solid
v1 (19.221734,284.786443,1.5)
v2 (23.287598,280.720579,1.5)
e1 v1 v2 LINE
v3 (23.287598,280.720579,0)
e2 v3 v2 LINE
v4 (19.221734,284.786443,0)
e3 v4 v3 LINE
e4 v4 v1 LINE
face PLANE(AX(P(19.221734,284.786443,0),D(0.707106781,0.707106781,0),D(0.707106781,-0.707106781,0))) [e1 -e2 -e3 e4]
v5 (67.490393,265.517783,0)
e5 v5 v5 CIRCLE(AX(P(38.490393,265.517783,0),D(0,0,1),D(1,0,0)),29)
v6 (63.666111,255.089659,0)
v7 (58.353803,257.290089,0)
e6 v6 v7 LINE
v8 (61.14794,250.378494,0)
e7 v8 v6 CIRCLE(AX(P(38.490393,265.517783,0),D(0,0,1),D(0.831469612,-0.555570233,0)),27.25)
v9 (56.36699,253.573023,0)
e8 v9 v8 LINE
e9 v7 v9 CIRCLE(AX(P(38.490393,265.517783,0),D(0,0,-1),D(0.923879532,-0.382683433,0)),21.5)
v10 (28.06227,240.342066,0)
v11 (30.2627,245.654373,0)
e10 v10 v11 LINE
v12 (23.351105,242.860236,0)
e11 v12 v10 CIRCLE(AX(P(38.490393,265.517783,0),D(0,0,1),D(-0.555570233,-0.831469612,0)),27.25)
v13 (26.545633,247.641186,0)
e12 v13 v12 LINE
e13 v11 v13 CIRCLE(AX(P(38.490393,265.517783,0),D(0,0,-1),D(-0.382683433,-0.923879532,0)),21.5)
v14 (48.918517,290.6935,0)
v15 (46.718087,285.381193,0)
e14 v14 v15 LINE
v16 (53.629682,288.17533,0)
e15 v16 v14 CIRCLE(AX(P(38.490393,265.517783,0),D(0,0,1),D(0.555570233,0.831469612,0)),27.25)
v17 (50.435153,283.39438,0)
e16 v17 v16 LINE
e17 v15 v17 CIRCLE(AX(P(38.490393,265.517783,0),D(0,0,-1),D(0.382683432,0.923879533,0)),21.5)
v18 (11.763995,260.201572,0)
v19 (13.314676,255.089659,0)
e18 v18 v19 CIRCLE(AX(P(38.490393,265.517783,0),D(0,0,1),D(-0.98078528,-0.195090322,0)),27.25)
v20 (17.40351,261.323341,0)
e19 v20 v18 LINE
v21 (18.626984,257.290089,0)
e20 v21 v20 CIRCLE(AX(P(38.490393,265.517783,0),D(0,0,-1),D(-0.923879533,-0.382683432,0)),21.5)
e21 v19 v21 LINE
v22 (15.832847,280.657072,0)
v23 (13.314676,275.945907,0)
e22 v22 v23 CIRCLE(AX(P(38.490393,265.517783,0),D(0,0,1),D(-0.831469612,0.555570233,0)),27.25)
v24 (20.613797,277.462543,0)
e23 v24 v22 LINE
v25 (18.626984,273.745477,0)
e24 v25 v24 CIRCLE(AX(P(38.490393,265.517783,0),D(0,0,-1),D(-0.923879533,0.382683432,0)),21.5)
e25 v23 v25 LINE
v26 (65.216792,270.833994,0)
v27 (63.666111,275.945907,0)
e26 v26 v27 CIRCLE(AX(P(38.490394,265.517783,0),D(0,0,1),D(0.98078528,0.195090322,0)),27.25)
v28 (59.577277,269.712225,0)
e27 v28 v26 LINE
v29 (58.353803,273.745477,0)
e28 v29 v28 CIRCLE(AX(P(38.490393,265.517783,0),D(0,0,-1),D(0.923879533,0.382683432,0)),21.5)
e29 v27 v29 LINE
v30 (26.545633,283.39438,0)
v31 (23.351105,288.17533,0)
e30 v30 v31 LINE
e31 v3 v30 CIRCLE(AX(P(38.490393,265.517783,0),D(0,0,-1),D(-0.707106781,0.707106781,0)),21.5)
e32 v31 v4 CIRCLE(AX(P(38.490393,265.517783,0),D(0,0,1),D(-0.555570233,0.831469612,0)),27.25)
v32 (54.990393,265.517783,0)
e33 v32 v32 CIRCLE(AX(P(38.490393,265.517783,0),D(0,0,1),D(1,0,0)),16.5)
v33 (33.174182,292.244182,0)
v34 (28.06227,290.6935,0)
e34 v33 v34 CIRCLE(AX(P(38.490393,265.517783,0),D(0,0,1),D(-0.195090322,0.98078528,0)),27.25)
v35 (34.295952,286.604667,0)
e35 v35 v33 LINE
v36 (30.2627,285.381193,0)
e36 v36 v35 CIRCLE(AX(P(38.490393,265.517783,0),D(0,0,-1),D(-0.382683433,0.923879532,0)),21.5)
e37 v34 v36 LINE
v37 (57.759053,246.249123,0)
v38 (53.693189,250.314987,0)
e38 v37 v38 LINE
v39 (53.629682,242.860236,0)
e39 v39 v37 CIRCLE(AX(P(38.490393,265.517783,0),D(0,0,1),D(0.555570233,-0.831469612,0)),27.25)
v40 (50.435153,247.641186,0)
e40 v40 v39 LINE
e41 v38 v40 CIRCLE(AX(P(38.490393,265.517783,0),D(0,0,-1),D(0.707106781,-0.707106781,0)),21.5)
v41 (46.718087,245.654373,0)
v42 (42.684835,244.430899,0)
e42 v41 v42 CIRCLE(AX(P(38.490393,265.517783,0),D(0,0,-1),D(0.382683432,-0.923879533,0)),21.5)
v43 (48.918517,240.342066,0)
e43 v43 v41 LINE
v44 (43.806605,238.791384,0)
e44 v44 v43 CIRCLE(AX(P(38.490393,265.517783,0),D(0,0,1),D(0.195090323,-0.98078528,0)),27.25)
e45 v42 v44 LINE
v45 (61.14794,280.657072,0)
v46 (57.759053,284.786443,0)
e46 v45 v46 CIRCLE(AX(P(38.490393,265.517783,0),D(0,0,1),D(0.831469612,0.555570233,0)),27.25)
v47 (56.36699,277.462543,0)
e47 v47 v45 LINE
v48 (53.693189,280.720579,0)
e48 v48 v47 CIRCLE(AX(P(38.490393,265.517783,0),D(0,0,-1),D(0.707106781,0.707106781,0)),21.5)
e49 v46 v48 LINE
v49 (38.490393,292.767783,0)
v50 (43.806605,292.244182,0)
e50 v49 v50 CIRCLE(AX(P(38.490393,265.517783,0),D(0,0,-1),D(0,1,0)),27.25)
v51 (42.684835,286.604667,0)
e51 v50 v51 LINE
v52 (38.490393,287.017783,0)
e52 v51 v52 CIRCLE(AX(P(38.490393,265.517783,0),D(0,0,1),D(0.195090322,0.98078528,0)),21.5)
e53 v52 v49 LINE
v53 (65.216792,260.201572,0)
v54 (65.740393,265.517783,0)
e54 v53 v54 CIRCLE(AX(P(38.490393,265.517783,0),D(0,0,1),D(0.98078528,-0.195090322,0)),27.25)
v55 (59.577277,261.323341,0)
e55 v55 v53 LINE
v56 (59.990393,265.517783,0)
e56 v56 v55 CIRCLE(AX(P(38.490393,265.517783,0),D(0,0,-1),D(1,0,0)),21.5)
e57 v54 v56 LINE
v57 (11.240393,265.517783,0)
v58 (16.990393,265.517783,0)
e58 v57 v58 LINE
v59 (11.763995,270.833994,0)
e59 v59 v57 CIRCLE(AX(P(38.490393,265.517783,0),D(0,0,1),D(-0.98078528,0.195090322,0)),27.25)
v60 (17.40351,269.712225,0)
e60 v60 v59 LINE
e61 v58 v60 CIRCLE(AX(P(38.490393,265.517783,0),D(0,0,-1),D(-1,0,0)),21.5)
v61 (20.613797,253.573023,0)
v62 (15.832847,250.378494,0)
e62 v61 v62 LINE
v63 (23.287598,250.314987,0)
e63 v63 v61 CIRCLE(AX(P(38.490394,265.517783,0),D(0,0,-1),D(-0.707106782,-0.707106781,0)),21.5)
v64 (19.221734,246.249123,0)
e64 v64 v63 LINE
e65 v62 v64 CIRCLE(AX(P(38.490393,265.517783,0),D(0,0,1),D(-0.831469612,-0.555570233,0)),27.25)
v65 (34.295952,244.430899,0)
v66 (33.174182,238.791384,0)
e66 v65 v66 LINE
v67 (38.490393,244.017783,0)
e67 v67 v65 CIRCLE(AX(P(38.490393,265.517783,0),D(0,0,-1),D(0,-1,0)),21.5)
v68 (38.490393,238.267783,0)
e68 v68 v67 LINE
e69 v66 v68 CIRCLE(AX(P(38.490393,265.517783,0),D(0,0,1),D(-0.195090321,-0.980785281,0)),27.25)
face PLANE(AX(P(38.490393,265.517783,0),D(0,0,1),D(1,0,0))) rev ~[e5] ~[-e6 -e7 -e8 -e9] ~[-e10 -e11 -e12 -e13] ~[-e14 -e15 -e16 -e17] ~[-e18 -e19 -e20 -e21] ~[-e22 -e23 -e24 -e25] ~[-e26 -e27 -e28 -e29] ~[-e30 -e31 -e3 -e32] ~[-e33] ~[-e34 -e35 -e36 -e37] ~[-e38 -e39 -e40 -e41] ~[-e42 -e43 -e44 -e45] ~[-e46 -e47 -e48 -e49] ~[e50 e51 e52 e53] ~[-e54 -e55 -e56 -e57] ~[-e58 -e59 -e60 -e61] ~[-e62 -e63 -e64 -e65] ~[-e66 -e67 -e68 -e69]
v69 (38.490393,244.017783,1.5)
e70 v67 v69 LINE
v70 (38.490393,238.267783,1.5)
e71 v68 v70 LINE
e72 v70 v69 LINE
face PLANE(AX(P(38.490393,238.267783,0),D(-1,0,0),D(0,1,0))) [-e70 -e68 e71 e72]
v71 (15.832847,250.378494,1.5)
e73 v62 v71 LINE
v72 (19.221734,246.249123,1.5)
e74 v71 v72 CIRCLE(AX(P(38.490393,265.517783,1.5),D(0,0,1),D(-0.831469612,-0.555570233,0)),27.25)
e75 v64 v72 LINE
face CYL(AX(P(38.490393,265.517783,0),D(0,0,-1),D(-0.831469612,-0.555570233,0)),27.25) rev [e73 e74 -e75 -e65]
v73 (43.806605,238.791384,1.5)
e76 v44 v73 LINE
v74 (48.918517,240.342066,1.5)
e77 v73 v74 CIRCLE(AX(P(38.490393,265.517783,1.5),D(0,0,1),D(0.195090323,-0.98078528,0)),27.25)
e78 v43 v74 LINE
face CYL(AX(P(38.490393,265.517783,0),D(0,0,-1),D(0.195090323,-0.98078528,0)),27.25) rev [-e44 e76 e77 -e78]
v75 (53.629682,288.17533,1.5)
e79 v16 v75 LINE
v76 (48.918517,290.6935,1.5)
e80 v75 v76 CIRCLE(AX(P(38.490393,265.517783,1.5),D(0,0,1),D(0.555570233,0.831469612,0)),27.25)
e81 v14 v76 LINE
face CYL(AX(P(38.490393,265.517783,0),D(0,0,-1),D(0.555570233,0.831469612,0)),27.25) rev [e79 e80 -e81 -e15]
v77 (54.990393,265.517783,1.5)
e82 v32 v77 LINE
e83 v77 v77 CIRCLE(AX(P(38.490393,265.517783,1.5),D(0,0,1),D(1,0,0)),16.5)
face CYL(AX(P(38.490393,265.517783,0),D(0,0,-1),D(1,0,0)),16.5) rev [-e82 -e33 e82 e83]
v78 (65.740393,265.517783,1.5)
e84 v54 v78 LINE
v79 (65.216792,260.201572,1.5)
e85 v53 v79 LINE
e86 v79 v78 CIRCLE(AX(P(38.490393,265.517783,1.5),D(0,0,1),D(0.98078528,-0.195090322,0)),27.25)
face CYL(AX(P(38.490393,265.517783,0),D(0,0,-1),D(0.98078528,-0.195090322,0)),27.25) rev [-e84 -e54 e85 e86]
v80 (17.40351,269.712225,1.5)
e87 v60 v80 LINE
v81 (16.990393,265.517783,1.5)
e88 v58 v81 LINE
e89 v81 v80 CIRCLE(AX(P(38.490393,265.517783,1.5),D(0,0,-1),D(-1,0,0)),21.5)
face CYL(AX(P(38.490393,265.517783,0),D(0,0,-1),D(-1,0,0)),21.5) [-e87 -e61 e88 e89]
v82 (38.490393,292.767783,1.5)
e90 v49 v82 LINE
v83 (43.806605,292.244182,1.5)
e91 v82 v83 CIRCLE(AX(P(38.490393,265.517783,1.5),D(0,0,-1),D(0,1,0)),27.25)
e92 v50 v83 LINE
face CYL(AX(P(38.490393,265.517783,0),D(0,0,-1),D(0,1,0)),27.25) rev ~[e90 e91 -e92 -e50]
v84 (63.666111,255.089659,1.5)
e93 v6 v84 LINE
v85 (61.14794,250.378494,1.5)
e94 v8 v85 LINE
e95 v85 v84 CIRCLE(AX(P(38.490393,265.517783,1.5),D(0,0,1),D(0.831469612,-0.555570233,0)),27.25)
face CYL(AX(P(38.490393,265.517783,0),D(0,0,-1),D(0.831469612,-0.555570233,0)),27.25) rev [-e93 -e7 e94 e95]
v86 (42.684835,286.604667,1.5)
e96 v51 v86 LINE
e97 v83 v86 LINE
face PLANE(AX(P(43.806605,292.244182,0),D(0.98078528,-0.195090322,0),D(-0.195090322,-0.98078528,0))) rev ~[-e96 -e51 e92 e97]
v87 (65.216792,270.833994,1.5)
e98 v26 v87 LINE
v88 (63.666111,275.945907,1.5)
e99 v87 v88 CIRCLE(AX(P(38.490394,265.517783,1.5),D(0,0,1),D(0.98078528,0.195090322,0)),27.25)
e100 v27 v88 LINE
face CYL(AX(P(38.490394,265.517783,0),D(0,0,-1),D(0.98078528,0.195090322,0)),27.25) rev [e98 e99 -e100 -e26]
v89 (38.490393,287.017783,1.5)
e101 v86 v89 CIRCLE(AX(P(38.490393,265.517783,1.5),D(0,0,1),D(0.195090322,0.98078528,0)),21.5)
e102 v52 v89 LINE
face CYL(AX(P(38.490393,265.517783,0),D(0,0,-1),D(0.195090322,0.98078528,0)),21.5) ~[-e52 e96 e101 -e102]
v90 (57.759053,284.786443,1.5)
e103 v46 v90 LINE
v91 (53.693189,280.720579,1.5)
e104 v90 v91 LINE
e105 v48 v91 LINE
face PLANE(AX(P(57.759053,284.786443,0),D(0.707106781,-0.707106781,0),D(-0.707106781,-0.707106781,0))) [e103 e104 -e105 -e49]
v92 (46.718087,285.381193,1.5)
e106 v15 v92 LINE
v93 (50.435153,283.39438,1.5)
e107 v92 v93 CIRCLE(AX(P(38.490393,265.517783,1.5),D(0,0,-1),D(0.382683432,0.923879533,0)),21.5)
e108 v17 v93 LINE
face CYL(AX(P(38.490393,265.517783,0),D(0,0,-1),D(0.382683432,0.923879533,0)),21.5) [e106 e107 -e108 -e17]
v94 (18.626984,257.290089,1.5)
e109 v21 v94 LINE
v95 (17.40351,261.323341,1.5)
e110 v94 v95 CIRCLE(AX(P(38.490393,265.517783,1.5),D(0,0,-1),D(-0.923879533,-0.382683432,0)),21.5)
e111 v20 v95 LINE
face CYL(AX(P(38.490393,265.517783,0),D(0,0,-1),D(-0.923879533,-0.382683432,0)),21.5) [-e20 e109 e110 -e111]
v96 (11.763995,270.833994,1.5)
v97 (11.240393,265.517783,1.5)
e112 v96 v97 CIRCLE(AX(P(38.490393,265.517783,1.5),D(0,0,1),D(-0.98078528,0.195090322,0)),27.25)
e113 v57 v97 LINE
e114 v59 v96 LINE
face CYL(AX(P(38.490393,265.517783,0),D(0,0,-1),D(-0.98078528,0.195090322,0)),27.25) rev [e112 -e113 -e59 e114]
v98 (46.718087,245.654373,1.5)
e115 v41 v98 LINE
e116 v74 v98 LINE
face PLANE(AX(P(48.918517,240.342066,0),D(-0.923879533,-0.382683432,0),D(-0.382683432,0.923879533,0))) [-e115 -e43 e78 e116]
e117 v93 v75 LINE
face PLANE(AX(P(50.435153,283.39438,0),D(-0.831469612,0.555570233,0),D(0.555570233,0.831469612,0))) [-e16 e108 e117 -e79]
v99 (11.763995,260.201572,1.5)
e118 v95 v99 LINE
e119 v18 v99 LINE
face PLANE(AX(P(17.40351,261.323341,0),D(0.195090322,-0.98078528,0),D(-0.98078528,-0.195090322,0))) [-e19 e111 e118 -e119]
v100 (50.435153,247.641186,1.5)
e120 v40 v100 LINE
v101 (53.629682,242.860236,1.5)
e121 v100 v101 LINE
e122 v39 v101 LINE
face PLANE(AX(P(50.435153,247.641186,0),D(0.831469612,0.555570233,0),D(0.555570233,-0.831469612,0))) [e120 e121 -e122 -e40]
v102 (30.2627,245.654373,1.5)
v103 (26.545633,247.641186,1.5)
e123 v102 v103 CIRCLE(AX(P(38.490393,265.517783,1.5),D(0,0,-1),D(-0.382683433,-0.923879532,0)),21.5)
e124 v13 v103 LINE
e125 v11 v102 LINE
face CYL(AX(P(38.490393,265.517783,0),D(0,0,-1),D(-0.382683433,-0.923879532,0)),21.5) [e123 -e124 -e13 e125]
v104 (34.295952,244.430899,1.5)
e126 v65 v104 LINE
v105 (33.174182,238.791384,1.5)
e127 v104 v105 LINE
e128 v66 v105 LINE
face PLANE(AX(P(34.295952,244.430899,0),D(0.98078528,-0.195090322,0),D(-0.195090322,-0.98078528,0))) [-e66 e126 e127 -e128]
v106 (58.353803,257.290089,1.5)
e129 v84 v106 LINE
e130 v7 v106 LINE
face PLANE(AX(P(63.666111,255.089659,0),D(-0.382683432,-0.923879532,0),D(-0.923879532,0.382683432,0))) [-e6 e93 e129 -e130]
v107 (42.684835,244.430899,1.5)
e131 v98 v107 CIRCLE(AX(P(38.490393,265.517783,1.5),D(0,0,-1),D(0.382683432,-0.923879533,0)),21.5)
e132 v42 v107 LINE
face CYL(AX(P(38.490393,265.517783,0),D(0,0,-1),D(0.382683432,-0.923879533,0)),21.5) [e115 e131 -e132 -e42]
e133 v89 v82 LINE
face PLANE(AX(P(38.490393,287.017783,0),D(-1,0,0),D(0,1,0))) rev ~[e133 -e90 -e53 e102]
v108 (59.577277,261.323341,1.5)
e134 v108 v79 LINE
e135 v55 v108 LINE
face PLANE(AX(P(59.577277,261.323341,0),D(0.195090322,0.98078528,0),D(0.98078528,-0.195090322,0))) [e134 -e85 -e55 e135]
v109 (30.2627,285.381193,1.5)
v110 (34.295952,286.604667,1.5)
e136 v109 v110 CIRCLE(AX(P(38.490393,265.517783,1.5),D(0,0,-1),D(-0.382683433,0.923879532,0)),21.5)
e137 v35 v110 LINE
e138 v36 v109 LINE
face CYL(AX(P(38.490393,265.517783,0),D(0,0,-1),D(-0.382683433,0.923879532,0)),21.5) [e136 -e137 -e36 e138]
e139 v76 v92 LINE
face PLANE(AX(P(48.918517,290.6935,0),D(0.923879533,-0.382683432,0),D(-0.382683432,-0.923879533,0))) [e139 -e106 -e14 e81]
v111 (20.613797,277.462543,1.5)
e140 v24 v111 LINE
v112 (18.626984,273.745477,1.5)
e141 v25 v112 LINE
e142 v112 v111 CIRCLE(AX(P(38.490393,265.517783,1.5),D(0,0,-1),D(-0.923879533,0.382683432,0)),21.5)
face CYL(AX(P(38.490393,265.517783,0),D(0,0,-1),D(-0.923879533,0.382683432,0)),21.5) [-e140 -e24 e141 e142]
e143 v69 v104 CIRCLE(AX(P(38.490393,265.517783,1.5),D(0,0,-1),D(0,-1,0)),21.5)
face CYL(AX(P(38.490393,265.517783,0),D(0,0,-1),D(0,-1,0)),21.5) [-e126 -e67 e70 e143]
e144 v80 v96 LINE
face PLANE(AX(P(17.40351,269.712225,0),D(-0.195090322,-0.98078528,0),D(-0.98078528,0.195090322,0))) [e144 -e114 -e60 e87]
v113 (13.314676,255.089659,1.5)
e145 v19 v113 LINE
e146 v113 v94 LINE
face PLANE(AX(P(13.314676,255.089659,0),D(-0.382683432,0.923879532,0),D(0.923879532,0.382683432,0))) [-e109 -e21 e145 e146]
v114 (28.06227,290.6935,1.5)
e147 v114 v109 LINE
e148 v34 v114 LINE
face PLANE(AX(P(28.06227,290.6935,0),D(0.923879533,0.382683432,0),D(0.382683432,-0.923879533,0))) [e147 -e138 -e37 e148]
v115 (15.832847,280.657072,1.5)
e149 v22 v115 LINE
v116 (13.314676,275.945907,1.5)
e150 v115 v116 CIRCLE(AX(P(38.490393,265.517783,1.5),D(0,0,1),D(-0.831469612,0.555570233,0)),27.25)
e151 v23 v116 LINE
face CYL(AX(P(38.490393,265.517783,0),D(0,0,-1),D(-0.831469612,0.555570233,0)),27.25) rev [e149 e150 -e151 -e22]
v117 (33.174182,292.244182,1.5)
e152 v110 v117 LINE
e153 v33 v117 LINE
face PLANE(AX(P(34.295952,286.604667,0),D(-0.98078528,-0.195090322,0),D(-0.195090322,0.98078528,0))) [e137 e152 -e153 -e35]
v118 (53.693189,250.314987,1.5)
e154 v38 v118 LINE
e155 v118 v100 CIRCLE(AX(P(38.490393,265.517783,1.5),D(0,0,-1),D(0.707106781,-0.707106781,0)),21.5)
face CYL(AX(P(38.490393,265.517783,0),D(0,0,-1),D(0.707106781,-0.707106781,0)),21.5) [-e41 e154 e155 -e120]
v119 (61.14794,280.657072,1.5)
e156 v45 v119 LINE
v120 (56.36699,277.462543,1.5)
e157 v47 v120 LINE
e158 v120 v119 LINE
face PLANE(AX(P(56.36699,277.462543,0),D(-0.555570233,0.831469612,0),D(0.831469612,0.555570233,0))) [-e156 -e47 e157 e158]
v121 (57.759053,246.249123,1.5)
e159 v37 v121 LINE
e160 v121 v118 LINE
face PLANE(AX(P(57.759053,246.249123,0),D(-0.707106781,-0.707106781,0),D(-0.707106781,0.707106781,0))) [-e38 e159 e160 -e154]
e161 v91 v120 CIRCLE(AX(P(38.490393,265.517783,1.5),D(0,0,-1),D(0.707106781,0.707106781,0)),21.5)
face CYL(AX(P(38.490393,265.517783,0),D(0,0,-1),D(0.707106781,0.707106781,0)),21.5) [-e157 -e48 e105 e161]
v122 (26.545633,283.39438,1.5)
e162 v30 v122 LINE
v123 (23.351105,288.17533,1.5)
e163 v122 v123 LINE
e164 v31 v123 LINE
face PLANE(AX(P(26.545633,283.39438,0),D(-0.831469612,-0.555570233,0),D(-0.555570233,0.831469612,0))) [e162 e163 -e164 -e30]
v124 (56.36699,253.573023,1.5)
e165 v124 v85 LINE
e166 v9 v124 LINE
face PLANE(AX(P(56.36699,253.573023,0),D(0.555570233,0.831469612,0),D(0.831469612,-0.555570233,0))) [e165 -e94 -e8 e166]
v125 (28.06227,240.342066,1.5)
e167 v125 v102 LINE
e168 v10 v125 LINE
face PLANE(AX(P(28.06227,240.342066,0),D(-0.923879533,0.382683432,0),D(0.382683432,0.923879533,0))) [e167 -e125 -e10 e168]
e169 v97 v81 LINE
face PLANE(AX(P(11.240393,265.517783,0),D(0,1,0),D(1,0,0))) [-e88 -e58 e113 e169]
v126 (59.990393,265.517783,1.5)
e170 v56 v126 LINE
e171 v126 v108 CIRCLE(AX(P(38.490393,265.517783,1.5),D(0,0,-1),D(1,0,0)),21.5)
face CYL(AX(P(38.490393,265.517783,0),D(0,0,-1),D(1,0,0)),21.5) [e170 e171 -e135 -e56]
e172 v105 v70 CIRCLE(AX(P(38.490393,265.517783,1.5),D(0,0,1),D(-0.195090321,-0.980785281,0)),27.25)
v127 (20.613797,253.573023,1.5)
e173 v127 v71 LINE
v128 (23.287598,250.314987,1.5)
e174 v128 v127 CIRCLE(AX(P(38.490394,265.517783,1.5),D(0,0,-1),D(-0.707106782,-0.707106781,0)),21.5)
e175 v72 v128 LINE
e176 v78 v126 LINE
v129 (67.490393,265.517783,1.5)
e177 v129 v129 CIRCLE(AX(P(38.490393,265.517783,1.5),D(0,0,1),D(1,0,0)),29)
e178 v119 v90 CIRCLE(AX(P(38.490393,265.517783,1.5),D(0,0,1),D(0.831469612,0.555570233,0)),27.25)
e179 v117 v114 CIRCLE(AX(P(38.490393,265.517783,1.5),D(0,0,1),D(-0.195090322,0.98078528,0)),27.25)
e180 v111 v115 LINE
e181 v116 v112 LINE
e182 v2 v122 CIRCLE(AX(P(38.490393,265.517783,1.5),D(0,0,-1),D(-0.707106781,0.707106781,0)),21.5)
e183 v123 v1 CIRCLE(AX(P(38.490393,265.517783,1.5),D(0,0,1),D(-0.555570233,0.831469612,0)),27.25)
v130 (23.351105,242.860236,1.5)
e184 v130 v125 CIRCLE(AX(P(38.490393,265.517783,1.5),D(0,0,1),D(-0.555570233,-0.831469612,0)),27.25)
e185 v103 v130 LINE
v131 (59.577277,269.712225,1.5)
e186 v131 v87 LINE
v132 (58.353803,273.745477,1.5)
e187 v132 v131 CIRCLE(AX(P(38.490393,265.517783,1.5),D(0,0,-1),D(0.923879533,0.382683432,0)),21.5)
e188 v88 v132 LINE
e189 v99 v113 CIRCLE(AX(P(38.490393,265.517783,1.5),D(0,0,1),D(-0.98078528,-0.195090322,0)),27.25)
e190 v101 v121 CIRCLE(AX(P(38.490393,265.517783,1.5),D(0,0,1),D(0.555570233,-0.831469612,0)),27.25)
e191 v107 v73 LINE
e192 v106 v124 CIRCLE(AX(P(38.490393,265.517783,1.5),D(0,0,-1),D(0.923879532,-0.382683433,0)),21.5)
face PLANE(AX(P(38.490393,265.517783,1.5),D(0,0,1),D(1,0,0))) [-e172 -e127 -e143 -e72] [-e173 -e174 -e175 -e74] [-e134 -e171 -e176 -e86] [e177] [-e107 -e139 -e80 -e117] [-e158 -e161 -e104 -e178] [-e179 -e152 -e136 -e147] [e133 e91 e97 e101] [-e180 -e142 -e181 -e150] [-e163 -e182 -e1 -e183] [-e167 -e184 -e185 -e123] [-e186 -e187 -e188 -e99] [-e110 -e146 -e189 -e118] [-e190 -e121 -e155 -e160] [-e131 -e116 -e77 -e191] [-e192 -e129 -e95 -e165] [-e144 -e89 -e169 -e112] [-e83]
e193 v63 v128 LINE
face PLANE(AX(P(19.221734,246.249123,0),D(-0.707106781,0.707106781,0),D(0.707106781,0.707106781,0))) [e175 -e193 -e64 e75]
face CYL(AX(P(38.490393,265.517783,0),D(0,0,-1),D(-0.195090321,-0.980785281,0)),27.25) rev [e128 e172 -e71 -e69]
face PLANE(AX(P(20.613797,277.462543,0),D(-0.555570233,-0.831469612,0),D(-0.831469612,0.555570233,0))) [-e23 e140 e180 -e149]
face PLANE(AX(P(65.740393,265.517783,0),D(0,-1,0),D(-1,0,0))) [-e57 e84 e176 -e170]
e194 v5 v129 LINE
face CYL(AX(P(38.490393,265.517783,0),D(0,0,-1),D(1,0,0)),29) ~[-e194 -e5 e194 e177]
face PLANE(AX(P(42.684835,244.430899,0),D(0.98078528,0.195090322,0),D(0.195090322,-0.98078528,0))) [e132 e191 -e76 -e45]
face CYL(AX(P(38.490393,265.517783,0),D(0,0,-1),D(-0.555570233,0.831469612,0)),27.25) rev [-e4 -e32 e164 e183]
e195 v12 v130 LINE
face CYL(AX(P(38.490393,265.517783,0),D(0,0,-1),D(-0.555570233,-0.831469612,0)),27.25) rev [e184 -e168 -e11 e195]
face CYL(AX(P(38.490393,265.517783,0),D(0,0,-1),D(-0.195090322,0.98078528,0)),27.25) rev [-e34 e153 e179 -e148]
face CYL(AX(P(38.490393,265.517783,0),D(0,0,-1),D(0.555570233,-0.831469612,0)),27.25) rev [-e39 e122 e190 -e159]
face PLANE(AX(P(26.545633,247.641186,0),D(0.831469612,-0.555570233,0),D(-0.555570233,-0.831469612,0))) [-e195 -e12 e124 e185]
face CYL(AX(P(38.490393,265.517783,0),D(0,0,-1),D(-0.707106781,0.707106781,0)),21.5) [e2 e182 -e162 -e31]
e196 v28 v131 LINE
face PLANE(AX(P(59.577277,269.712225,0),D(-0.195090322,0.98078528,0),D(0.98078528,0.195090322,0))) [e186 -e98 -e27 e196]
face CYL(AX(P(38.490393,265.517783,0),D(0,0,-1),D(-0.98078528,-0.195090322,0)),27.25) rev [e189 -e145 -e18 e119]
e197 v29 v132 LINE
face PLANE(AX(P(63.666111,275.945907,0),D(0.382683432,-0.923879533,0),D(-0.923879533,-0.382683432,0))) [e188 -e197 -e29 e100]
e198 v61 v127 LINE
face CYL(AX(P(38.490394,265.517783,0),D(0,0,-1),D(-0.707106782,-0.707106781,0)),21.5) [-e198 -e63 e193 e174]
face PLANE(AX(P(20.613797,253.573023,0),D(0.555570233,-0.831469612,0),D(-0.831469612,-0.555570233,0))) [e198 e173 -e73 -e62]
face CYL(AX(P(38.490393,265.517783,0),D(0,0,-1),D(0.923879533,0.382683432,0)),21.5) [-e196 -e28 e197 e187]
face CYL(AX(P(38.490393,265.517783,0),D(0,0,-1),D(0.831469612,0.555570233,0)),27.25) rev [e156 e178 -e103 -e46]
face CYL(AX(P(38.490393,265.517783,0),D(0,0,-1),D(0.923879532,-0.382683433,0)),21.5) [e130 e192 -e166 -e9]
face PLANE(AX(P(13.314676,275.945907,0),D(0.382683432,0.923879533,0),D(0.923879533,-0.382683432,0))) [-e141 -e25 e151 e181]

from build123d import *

# Parameters (mm, degrees)
MODEL_R                 = 29
MODEL_R_2               = 16.5
SALIENTE_EXTRUIR1_DEPTH = 1.5


with BuildPart() as part:
    # Model → Saliente-Extruir1 (new body)
    with BuildSketch(Plane.XY):
        with Locations((38.490393449, 265.517783021)):
            Circle(MODEL_R)
        with Locations((38.490393449, 265.517783021)):
            Circle(MODEL_R_2, mode=Mode.SUBTRACT)
        with BuildLine():
            Line((38.490393449, 287.017783021), (38.490393449, 292.767783021))
            ThreePointArc((38.490393449, 292.767783021), (41.161360523, 292.636566823), (43.806604724, 292.244181912))
            Line((43.806604724, 292.244181912), (42.684835372, 286.60466655))
            ThreePointArc((42.684835372, 286.60466655), (40.597761966, 286.914254645), (38.490393449, 287.017783021))
        make_face(mode=Mode.SUBTRACT)
        with BuildLine():
            Line((34.295951526, 286.60466655), (33.174182174, 292.244181912))
            ThreePointArc((33.174182174, 292.244181912), (30.580135994, 291.59440717), (28.062269917, 290.693500282))
            Line((28.062269917, 290.693500282), (30.262699653, 285.38119297))
            ThreePointArc((30.262699653, 285.38119297), (32.249272888, 286.09200024), (34.295951526, 286.60466655))
        make_face(mode=Mode.SUBTRACT)
        with BuildLine():
            Line((26.545633439, 283.394379686), (23.351104599, 288.175329957))
            ThreePointArc((23.351104599, 288.175329957), (21.203176455, 286.582317876), (19.221733662, 284.786442809))
            Line((19.221733662, 284.786442809), (23.287597653, 280.720578817))
            ThreePointArc((23.287597653, 280.720578817), (24.850937839, 282.137507769), (26.545633439, 283.394379686))
        make_face(mode=Mode.SUBTRACT)
        with BuildLine():
            Line((20.613796784, 277.462543031), (15.832846514, 280.657071871))
            ThreePointArc((15.832846514, 280.657071871), (14.458038995, 278.3633441), (13.314676188, 275.945906553))
            Line((13.314676188, 275.945906553), (18.6269835, 273.745476817))
            ThreePointArc((18.6269835, 273.745476817), (19.529086265, 275.652812863), (20.613796784, 277.462543031))
        make_face(mode=Mode.SUBTRACT)
        with BuildLine():
            Line((17.40350992, 269.712224945), (11.763994558, 270.833994296))
            ThreePointArc((11.763994558, 270.833994296), (11.371609647, 268.188750095), (11.240393449, 265.517783021))
            Line((11.240393449, 265.517783021), (16.990393449, 265.517783021))
            ThreePointArc((16.990393449, 265.517783021), (17.093921825, 267.625151538), (17.40350992, 269.712224945))
        make_face(mode=Mode.SUBTRACT)
        with BuildLine():
            Line((17.40350992, 261.323341098), (11.763994558, 260.201571746))
            ThreePointArc((11.763994558, 260.201571746), (12.4137693, 257.607525566), (13.314676188, 255.089659489))
            Line((13.314676188, 255.089659489), (18.6269835, 257.290089226))
            ThreePointArc((18.6269835, 257.290089226), (17.916176231, 259.27666246), (17.40350992, 261.323341098))
        make_face(mode=Mode.SUBTRACT)
        with BuildLine():
            Line((20.613796784, 253.573023011), (15.832846514, 250.378494172))
            ThreePointArc((15.832846514, 250.378494172), (17.425858595, 248.230566028), (19.221733662, 246.249123234))
            Line((19.221733662, 246.249123234), (23.287597653, 250.314987226))
            ThreePointArc((23.287597653, 250.314987226), (21.870668702, 251.878327412), (20.613796784, 253.573023011))
        make_face(mode=Mode.SUBTRACT)
        with BuildLine():
            Line((26.545633439, 247.641186357), (23.351104599, 242.860236086))
            ThreePointArc((23.351104599, 242.860236086), (25.64483237, 241.485428568), (28.062269917, 240.34206576))
            Line((28.062269917, 240.34206576), (30.262699653, 245.654373072))
            ThreePointArc((30.262699653, 245.654373072), (28.355363607, 246.556475838), (26.545633439, 247.641186357))
        make_face(mode=Mode.SUBTRACT)
        with BuildLine():
            Line((34.295951526, 244.430899493), (33.174182174, 238.79138413))
            ThreePointArc((33.174182174, 238.79138413), (35.819426375, 238.39899922), (38.490393449, 238.267783021))
            Line((38.490393449, 238.267783021), (38.490393449, 244.017783021))
            ThreePointArc((38.490393449, 244.017783021), (36.383024932, 244.121311398), (34.295951526, 244.430899493))
        make_face(mode=Mode.SUBTRACT)
        with BuildLine():
            Line((42.684835372, 244.430899493), (43.806604724, 238.79138413))
            ThreePointArc((43.806604724, 238.79138413), (46.400650904, 239.441158873), (48.918516981, 240.34206576))
            Line((48.918516981, 240.34206576), (46.718087245, 245.654373072))
            ThreePointArc((46.718087245, 245.654373072), (44.73151401, 244.943565803), (42.684835372, 244.430899493))
        make_face(mode=Mode.SUBTRACT)
        with BuildLine():
            Line((50.435153459, 247.641186357), (53.629682299, 242.860236086))
            ThreePointArc((53.629682299, 242.860236086), (55.777610442, 244.453248167), (57.759053236, 246.249123234))
            Line((57.759053236, 246.249123234), (53.693189244, 250.314987226))
            ThreePointArc((53.693189244, 250.314987226), (52.129849058, 248.898058274), (50.435153459, 247.641186357))
        make_face(mode=Mode.SUBTRACT)
        with BuildLine():
            Line((56.366990113, 253.573023011), (61.147940384, 250.378494172))
            ThreePointArc((61.147940384, 250.378494172), (62.522747902, 252.672221943), (63.66611071, 255.089659489))
            Line((63.66611071, 255.089659489), (58.353803398, 257.290089226))
            ThreePointArc((58.353803398, 257.290089226), (57.451700632, 255.38275318), (56.366990113, 253.573023011))
        make_face(mode=Mode.SUBTRACT)
        with BuildLine():
            Line((59.577276978, 261.323341098), (65.21679234, 260.201571746))
            ThreePointArc((65.21679234, 260.201571746), (65.609177251, 262.846815947), (65.740393449, 265.517783021))
            Line((65.740393449, 265.517783021), (59.990393449, 265.517783021))
            ThreePointArc((59.990393449, 265.517783021), (59.886865072, 263.410414504), (59.577276978, 261.323341098))
        make_face(mode=Mode.SUBTRACT)
        with BuildLine():
            Line((59.577276978, 269.712224945), (65.21679234, 270.833994296))
            ThreePointArc((65.21679234, 270.833994296), (64.567017598, 273.428040477), (63.66611071, 275.945906553))
            Line((63.66611071, 275.945906553), (58.353803398, 273.745476817))
            ThreePointArc((58.353803398, 273.745476817), (59.064610667, 271.758903582), (59.577276978, 269.712224945))
        make_face(mode=Mode.SUBTRACT)
        with BuildLine():
            Line((56.366990113, 277.462543031), (61.147940384, 280.657071871))
            ThreePointArc((61.147940384, 280.657071871), (59.554928303, 282.805000015), (57.759053236, 284.786442809))
            Line((57.759053236, 284.786442809), (53.693189244, 280.720578817))
            ThreePointArc((53.693189244, 280.720578817), (55.110118196, 279.157238631), (56.366990113, 277.462543031))
        make_face(mode=Mode.SUBTRACT)
        with BuildLine():
            Line((50.435153459, 283.394379686), (53.629682299, 288.175329957))
            ThreePointArc((53.629682299, 288.175329957), (51.335954527, 289.550137475), (48.918516981, 290.693500282))
            Line((48.918516981, 290.693500282), (46.718087245, 285.38119297))
            ThreePointArc((46.718087245, 285.38119297), (48.625423291, 284.479090205), (50.435153459, 283.394379686))
        make_face(mode=Mode.SUBTRACT)
    extrude(amount=SALIENTE_EXTRUIR1_DEPTH)


solid = part.part
